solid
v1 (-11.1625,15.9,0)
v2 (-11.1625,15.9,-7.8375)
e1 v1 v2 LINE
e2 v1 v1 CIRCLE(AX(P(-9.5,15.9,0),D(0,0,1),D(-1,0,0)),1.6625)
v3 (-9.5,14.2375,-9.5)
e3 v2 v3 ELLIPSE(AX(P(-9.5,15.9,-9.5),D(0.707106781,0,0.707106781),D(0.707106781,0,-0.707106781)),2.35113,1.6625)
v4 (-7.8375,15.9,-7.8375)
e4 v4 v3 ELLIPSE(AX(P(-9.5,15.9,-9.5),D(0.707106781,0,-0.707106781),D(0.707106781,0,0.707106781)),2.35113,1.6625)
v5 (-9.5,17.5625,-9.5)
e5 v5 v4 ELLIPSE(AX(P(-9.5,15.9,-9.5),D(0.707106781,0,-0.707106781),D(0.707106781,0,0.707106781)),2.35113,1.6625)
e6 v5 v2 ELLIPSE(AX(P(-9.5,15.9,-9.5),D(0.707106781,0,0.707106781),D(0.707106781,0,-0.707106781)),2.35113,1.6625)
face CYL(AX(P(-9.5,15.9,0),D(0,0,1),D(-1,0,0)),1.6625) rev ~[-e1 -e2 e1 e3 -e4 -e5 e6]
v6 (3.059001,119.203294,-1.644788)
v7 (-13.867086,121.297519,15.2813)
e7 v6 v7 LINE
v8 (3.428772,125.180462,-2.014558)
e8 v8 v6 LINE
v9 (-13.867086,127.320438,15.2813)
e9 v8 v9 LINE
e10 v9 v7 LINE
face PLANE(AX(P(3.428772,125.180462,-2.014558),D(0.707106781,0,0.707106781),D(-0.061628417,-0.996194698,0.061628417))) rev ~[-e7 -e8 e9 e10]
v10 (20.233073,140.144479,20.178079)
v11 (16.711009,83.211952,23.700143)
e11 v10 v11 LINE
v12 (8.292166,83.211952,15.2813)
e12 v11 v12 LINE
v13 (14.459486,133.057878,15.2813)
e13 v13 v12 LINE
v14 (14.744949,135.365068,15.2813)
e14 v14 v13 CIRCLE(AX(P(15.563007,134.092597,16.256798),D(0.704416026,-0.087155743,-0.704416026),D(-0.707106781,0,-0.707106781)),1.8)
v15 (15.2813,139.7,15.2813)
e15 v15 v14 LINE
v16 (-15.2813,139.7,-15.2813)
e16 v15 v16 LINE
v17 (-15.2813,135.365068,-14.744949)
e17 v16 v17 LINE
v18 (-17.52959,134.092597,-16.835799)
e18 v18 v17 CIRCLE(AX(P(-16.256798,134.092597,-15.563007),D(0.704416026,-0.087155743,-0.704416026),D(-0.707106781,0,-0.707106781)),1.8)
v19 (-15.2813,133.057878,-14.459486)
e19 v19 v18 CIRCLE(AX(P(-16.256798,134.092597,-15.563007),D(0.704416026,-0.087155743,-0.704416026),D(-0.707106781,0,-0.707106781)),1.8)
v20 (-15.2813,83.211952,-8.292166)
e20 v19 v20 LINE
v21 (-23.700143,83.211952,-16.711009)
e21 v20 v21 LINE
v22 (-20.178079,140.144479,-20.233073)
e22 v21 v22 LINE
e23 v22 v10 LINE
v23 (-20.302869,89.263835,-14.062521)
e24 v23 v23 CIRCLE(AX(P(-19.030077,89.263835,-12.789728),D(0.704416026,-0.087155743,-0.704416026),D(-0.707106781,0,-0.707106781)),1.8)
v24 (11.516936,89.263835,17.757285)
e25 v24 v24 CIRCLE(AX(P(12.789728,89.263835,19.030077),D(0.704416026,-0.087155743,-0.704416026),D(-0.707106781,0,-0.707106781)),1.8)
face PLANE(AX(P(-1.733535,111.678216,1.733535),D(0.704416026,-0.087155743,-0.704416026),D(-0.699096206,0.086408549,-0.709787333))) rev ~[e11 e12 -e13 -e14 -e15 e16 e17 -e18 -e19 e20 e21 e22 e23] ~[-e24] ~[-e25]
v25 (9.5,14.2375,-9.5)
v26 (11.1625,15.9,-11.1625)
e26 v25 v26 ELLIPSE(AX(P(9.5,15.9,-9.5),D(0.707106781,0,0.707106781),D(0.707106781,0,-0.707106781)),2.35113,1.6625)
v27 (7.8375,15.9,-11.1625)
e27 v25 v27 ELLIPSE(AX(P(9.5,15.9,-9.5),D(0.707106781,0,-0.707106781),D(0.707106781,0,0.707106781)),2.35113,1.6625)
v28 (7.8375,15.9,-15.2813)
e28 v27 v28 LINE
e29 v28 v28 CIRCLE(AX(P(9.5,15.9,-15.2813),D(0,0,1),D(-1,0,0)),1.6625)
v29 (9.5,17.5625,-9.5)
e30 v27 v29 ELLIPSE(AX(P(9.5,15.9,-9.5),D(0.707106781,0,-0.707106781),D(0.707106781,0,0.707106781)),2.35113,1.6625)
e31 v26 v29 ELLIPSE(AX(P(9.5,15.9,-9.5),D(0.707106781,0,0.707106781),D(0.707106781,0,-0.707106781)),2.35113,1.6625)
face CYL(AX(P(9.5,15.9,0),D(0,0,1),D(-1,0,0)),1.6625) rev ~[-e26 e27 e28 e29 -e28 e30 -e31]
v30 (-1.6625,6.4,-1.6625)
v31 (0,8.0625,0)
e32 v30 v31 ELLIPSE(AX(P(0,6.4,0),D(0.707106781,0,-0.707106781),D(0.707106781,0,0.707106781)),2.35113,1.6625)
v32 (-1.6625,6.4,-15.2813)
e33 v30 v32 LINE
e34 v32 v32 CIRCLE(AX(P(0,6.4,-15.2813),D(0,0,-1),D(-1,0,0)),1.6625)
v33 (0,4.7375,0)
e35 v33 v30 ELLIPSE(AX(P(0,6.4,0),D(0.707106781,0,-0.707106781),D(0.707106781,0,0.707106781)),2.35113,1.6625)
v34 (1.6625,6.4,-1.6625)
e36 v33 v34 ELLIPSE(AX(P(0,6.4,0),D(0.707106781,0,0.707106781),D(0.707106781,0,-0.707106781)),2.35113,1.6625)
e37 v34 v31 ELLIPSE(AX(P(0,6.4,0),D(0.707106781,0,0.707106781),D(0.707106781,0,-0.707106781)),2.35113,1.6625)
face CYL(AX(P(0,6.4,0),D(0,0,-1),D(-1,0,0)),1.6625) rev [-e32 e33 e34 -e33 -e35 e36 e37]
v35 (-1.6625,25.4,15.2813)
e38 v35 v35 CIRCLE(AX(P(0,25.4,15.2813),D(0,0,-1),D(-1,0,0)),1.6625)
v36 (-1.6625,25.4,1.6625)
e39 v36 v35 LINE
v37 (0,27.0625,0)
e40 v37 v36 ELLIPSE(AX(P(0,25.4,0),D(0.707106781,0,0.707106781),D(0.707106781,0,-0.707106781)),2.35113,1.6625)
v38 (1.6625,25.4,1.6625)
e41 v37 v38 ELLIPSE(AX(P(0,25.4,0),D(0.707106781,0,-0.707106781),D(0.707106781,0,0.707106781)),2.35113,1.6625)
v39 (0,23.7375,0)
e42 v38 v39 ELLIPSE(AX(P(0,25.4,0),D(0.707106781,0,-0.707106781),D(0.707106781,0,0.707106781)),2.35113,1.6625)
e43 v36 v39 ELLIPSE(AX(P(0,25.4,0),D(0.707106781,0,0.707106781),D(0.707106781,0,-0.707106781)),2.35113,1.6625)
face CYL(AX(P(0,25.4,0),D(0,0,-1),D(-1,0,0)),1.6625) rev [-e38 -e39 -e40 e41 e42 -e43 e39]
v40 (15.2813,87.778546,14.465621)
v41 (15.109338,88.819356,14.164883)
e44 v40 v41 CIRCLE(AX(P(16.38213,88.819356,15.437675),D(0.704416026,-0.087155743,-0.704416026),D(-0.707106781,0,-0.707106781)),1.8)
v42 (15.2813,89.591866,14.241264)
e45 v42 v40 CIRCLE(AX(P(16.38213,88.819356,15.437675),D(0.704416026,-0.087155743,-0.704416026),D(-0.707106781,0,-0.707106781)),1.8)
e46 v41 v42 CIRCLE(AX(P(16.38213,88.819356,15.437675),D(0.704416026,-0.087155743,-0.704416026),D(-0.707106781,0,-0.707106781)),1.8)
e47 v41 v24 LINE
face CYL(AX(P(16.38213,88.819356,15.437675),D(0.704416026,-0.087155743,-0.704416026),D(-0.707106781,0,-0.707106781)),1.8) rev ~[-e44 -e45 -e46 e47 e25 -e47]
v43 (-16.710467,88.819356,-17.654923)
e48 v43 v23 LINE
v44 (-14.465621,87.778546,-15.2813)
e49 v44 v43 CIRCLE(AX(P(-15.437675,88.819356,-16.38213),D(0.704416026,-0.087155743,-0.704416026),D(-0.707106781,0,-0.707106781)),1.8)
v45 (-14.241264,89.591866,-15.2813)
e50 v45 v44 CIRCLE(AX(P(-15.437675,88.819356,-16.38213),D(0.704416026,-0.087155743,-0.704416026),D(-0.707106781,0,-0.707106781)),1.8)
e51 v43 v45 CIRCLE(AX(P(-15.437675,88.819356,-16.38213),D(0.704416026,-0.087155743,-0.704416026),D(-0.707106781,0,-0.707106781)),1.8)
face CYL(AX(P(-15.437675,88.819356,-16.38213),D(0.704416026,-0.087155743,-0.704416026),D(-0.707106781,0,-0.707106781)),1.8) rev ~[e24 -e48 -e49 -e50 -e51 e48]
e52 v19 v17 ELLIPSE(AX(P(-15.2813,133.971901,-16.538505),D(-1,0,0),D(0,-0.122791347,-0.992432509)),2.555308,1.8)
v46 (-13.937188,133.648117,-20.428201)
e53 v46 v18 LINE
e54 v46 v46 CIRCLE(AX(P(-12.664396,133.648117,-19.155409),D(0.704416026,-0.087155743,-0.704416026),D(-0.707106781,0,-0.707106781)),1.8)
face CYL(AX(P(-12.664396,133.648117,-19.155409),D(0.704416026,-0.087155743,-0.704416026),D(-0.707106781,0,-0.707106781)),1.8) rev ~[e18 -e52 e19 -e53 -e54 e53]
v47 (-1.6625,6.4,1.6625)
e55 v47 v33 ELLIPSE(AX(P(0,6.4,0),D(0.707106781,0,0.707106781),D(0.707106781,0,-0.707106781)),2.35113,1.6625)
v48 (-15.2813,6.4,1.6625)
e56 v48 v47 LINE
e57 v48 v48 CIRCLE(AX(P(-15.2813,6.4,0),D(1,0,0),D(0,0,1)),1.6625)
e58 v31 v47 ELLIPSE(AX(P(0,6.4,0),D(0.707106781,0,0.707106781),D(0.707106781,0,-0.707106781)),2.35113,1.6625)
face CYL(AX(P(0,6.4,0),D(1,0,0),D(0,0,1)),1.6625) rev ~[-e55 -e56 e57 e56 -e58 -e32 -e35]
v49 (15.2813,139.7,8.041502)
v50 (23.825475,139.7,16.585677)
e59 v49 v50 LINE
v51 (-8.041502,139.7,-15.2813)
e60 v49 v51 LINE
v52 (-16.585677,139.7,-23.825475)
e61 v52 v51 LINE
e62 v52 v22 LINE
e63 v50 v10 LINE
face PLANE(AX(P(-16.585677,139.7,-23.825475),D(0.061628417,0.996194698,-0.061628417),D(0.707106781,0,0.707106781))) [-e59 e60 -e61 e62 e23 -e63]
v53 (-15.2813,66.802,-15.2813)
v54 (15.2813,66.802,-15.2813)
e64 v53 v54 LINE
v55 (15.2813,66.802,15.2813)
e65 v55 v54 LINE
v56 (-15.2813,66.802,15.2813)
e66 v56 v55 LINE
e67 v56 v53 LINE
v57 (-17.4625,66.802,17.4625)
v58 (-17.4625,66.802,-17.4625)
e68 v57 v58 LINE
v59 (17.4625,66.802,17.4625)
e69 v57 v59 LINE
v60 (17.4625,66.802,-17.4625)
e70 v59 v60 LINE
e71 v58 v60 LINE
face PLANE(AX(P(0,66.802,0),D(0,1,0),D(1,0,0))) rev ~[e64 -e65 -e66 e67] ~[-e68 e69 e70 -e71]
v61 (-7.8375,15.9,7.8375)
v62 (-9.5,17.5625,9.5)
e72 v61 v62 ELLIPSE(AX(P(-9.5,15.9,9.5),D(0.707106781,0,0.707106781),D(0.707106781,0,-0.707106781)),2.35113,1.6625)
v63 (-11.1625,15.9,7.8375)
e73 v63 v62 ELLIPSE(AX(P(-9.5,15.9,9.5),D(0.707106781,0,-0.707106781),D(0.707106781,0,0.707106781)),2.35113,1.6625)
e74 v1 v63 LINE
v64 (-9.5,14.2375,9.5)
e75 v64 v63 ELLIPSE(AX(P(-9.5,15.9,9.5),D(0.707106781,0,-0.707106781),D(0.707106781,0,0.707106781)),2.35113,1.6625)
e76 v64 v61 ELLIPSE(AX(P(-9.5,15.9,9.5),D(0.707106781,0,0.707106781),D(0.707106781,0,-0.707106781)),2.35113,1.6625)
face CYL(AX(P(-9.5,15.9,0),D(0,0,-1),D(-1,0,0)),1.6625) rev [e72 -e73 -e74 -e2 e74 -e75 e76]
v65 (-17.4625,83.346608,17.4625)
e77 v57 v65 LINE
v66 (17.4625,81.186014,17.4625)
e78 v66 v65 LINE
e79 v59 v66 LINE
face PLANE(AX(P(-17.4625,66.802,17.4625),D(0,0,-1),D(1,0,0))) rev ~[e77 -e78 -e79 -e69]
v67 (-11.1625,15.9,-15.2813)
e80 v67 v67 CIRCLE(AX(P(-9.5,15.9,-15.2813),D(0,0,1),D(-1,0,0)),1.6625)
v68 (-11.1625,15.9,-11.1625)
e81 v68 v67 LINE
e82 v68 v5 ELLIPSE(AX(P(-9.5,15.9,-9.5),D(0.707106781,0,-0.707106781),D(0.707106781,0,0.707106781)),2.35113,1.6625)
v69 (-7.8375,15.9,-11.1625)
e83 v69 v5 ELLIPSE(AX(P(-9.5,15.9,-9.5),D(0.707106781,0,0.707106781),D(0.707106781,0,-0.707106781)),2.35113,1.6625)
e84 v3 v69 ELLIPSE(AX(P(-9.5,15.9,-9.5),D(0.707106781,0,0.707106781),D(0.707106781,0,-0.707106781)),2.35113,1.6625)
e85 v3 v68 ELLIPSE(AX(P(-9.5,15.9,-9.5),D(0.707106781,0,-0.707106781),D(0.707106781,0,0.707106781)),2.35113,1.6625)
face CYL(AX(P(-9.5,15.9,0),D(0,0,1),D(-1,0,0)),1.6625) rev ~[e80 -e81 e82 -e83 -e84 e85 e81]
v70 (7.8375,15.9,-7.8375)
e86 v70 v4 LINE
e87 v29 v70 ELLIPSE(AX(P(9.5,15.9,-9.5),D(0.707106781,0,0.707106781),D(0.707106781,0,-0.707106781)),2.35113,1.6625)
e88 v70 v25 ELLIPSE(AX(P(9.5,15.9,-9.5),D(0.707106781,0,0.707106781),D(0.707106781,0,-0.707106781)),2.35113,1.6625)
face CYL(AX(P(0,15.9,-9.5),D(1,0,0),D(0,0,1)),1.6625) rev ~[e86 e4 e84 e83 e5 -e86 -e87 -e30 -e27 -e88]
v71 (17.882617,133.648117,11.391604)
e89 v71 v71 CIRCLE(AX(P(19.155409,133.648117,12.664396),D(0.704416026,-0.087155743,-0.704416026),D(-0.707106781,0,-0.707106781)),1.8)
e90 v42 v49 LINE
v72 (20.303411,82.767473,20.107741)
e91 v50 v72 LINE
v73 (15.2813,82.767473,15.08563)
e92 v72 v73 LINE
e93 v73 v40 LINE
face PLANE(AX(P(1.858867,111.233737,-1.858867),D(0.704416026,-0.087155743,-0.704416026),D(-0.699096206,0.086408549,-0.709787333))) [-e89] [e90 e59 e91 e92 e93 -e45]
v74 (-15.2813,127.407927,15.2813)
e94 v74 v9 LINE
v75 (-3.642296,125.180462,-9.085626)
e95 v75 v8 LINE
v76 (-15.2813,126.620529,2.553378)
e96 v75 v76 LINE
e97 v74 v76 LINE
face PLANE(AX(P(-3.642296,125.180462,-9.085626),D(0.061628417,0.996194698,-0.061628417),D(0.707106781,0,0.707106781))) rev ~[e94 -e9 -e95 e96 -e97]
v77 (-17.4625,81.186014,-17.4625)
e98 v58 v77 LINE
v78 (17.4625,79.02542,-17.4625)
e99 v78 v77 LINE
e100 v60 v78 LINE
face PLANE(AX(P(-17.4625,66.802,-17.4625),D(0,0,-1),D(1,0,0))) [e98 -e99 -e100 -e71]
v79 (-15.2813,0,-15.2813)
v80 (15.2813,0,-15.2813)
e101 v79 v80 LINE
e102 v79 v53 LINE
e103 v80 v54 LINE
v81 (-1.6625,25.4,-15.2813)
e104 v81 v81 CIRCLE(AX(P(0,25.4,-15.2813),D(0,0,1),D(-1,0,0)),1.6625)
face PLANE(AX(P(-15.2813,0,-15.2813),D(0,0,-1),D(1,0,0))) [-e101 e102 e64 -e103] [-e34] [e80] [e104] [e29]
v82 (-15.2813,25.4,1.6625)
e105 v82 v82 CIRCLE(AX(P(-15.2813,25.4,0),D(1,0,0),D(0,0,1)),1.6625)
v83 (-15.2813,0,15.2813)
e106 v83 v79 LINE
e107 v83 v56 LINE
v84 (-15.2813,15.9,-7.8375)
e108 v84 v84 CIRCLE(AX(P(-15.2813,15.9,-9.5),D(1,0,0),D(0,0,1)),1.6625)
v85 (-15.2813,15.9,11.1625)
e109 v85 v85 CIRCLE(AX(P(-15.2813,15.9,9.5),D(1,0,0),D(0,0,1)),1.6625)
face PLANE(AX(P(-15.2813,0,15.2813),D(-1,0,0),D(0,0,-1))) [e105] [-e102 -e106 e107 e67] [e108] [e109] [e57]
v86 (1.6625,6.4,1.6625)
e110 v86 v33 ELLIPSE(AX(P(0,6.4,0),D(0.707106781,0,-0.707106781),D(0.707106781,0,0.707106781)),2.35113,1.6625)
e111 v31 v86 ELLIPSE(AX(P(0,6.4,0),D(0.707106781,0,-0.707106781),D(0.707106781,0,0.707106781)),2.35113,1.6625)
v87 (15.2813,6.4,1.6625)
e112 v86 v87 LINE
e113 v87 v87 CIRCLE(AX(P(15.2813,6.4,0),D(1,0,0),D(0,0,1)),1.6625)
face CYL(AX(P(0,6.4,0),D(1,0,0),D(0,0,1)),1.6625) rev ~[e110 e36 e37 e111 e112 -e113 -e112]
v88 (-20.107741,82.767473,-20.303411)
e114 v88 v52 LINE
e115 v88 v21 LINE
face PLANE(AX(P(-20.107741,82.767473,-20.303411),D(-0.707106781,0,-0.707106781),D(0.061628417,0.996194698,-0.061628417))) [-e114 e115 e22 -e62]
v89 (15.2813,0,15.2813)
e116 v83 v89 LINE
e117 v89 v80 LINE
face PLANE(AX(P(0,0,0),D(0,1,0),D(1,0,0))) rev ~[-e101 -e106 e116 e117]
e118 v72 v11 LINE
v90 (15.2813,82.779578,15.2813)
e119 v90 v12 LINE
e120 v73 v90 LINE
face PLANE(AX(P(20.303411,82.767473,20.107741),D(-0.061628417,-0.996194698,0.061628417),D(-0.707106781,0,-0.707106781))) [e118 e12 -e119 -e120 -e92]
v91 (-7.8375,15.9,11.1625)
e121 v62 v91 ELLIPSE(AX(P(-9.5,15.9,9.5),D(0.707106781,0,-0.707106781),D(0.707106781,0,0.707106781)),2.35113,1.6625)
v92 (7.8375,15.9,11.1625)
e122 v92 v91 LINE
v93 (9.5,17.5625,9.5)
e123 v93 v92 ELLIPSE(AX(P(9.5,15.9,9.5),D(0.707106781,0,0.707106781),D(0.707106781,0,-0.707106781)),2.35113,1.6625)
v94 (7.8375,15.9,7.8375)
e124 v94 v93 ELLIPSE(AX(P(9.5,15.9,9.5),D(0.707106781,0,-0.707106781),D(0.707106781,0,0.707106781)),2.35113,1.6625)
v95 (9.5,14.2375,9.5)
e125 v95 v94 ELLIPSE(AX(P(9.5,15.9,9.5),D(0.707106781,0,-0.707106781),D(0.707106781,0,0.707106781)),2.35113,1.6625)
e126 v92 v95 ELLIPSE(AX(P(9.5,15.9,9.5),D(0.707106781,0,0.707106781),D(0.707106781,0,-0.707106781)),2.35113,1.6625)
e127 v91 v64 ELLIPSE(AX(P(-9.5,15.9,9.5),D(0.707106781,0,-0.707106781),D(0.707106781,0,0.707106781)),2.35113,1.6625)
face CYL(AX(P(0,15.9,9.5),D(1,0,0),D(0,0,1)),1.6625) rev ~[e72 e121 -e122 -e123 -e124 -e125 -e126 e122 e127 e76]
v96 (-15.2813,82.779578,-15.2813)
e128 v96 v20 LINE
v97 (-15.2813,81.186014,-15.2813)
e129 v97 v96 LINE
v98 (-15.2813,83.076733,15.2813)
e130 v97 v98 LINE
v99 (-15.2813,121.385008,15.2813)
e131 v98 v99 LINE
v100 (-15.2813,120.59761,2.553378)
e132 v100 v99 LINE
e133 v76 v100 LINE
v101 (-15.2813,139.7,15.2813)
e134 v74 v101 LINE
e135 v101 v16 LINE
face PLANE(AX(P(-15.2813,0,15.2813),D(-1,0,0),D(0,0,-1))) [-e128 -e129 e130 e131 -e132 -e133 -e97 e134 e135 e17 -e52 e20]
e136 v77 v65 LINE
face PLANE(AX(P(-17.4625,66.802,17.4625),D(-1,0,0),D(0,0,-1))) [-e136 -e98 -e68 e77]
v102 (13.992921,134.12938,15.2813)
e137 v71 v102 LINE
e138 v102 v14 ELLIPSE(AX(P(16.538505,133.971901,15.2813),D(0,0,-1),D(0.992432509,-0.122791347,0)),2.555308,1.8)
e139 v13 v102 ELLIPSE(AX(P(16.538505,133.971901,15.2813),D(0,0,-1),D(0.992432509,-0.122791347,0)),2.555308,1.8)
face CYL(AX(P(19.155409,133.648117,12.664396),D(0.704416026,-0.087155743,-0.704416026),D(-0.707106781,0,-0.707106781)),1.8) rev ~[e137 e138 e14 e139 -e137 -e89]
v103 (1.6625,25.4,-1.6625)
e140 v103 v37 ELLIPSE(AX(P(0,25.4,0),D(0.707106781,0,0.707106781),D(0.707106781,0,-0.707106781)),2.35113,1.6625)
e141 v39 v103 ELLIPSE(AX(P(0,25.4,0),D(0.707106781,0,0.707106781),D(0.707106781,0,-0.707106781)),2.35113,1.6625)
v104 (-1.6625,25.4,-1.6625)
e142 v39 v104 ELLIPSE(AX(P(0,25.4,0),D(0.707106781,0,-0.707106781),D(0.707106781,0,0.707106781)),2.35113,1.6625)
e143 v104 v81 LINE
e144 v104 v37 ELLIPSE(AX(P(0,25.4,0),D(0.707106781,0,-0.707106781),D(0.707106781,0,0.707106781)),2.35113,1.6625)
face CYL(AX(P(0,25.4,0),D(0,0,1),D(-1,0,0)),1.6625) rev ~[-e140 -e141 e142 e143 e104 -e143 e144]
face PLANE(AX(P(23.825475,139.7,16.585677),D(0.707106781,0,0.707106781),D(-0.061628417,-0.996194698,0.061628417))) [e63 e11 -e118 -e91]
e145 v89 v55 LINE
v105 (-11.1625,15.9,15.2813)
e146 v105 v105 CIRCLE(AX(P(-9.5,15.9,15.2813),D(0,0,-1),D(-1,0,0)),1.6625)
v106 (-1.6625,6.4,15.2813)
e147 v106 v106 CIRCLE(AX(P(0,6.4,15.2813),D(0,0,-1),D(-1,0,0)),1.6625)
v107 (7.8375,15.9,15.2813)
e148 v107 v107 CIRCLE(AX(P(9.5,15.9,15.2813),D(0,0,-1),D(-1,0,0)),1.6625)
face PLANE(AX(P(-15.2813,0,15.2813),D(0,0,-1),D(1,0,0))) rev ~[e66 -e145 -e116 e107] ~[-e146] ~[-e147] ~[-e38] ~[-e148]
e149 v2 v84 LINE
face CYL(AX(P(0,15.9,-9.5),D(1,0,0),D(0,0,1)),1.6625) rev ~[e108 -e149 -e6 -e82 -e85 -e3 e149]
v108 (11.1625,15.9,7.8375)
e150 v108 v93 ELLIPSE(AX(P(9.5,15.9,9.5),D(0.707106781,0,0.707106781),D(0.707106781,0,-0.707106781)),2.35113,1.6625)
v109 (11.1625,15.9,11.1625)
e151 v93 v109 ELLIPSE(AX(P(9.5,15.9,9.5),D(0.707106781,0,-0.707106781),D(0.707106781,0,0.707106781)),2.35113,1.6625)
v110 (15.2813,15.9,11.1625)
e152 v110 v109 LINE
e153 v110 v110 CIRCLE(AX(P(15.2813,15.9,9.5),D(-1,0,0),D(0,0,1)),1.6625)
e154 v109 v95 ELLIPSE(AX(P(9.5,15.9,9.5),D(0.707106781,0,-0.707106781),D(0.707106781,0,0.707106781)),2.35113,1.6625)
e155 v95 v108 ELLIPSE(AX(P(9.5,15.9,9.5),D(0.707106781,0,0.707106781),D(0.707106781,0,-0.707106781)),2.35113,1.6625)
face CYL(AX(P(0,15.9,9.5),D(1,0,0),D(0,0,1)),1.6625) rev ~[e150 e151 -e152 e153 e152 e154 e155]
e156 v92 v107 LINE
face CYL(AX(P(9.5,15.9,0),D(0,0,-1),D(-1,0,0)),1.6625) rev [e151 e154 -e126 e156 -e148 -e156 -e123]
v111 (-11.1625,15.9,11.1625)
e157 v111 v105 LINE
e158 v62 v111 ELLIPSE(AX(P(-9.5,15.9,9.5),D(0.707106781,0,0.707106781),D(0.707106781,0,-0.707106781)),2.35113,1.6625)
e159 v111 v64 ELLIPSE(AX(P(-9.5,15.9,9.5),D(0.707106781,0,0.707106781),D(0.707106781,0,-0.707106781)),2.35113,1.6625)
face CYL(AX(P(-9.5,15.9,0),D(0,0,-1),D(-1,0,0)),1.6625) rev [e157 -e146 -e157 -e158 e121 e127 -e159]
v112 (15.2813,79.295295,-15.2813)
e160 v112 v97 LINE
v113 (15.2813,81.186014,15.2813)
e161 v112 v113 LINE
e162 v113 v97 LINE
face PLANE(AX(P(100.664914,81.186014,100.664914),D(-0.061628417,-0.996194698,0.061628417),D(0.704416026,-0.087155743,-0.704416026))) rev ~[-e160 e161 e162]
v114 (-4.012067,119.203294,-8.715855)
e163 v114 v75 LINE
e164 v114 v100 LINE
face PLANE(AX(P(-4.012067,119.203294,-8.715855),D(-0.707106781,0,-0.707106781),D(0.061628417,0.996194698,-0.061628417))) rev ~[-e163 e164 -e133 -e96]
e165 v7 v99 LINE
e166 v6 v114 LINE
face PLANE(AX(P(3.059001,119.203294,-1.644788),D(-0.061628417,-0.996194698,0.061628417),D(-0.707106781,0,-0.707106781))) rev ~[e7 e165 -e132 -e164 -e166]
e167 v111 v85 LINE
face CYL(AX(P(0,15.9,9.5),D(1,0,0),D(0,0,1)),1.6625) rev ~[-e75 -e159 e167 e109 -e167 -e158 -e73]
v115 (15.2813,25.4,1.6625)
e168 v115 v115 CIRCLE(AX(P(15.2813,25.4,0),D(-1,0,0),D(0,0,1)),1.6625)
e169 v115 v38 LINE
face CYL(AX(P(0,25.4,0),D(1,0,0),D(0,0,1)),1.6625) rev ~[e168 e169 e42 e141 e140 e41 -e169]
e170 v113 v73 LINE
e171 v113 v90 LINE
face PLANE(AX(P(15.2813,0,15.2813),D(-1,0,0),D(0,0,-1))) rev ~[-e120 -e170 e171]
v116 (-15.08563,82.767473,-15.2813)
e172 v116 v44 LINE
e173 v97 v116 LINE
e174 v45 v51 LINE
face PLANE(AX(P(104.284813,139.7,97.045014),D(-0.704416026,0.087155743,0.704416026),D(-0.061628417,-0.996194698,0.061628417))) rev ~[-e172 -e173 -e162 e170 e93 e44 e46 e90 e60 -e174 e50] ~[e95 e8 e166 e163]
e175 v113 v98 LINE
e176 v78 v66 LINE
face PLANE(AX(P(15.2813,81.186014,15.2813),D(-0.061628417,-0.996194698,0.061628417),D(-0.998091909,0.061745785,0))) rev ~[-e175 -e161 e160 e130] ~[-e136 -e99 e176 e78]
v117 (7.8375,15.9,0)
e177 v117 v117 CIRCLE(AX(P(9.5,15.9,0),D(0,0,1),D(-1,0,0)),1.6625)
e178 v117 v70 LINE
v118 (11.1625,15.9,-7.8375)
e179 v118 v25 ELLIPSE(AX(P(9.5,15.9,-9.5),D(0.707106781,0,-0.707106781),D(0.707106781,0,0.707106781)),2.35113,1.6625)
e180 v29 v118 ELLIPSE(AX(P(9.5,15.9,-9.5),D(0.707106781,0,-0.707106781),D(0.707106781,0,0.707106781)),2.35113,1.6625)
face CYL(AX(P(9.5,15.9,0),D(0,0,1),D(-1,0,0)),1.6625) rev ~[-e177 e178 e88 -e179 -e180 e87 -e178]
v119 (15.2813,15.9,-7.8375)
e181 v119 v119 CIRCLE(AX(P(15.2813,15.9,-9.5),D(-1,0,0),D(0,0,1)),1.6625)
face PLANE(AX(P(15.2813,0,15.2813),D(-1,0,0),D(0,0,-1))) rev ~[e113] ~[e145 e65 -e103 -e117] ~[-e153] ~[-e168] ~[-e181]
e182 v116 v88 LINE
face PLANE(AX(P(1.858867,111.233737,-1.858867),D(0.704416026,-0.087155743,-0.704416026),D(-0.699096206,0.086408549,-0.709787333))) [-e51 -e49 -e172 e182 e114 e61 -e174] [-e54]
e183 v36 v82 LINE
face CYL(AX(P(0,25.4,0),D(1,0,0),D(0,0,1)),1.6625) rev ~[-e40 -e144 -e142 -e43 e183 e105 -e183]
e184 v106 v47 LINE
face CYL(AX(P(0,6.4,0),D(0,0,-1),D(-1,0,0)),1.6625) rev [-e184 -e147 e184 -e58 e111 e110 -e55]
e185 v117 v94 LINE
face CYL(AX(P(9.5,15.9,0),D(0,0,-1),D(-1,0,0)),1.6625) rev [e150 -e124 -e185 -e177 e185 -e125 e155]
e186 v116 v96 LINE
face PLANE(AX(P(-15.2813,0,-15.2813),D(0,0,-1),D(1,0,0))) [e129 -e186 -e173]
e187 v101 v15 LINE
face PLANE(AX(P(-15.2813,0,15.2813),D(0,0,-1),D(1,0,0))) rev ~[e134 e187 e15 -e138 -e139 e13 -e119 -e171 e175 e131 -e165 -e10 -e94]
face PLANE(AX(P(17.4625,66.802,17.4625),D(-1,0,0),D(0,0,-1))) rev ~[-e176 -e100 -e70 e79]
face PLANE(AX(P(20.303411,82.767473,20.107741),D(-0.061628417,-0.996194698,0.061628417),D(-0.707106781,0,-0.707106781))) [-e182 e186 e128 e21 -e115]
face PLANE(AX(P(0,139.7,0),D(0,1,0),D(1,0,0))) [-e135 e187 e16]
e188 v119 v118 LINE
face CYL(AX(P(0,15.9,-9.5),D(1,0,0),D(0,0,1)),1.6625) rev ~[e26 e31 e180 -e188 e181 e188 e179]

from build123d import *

# Parameters (mm, degrees)
SKETCH1_W               = 30.562599784
SKETCH1_H               = 30.562599784
BOSS_EXTRUDE1_DEPTH     = 139.7
CUT_EXTRUDE1_DEPTH      = 142.361685943
CUT_EXTRUDE1_DEPTH_BACK = 142.361685943
BOSS_EXTRUDE2_DEPTH     = 5.09983
SKETCH5_R               = 1.8
CUT_EXTRUDE2_DEPTH      = 146.354775845
SKETCH6_R               = 1.662500104
CUT_EXTRUDE3_DEPTH      = 145.138064655
BOSS_EXTRUDE3_REACH     = 212.94
BOSS_EXTRUDE3_START     = 66.802
SKETCH8_W               = 34.925
SKETCH8_H               = 34.925
SKETCH8_W_2             = 30.562599784
SKETCH8_H_2             = 30.562599784


with BuildPart() as part:
    # Sketch1 → Boss-Extrude1 (new body)
    with BuildSketch(Plane(origin=(0, 0, 0), x_dir=(1, 0, 0), z_dir=(0, 1, 0))):
        Rectangle(SKETCH1_W, SKETCH1_H)
    extrude(amount=BOSS_EXTRUDE1_DEPTH)

    # Sketch2 → Cut-Extrude1 (cut, two sides: drawn at the far end of the back side and taken through both)
    with BuildSketch(Plane(origin=(0, 0, 0), x_dir=(0, -1, 0), z_dir=(-0.7071067811865438, 0, -0.7071067811865512)).offset(-CUT_EXTRUDE1_DEPTH_BACK)):
        Polygon((-139.7, -5.11931044), (-81.186013921, 0), (-79.295294527, -21.611021558), (-139.7, -21.611021558), align=None)
    extrude(amount=CUT_EXTRUDE1_DEPTH + CUT_EXTRUDE1_DEPTH_BACK, mode=Mode.SUBTRACT)

    # Sketch4 → Boss-Extrude2 (add)
    with BuildSketch(Plane(origin=(-4.984326181, 0.616698988, 4.984326181), x_dir=(-0.6990962056889038, 0.08640854919208918, -0.7097873328102555), z_dir=(0.7044160264027624, -0.08715574274765817, -0.704416026402755))):
        Polygon((40.57727892, 136.609827857), (-16.357328672, 141.566939751), (-21.314440566, 84.632332159), (35.620167026, 79.675220265), align=None)
    extrude(amount=-BOSS_EXTRUDE2_DEPTH)

    # Sketch5 → Cut-Extrude2 (cut, through all)
    with BuildSketch(Plane(origin=(-4.984326181, 0.616698988, 4.984326181), x_dir=(-0.6990962056889037, 0.0864085491920891, -0.7097873328102555), z_dir=(0.7044160264027625, -0.08715574274765821, -0.7044160264027549))):
        with Locations(Location((33.998237872, 131.084660992, 0), (0, 0, 355.023990467))):
            Circle(SKETCH5_R)
        with Locations(Location((-10.832161807, 134.987898703, 0), (0, 0, 355.023990467))):
            Circle(SKETCH5_R)
        with Locations(Location((-14.735399518, 90.157499024, 0), (0, 0, 355.023990467))):
            Circle(SKETCH5_R)
        with Locations(Location((30.095000161, 86.254261313, 0), (0, 0, 355.023990467))):
            Circle(SKETCH5_R)
        Polygon((19.811839734, 123.787667921), (9.849528694, 124.65505408), (9.329097, 118.677667456), (19.291408039, 117.810281298), align=None)
    extrude(amount=-CUT_EXTRUDE2_DEPTH, mode=Mode.SUBTRACT)

    # Sketch6 → Cut-Extrude3 (cut, symmetric)
    with BuildSketch(Plane(origin=(0, 0, 0), x_dir=(0, 0, -1), z_dir=(1, 0, 0))):
        with Locations(Location((0, 25.4, 0), (0, 0, 180))):
            Circle(SKETCH6_R)
        with Locations(Location((-9.5, 15.9, 0), (0, 0, 180))):
            Circle(SKETCH6_R)
        with Locations(Location((9.5, 15.9, 0), (0, 0, 180))):
            Circle(SKETCH6_R)
        with Locations(Location((0, 6.4, 0), (0, 0, 180))):
            Circle(SKETCH6_R)
    cut_extrude3 = extrude(amount=CUT_EXTRUDE3_DEPTH, both=True, mode=Mode.SUBTRACT)

    # Mirror1: Cut-Extrude3 across plane
    add(cut_extrude3.mirror(Plane(origin=(0, 0, 0), x_dir=(-0.7071067811865512, 0, 0.7071067811865439), z_dir=(-0.7071067811865438, 0, -0.7071067811865512))), mode=Mode.SUBTRACT)

    # Boss-Extrude3: up to this plane
    boss_extrude3_end = Plane(origin=(15.281299892, 81.186013921, 15.281299892), z_dir=(-0.06162841671621989, -0.9961946980917455, 0.061628416716219235))
    # Sketch8 → Boss-Extrude3 (add, up to the surface)
    with BuildSketch(Plane(origin=(0, 0, 0), x_dir=(1, 0, 0), z_dir=(0, 1, 0)).offset(BOSS_EXTRUDE3_START), mode=Mode.PRIVATE) as boss_extrude3_sk1:
        Rectangle(SKETCH8_W, SKETCH8_H)
        Rectangle(SKETCH8_W_2, SKETCH8_H_2, mode=Mode.SUBTRACT)
    boss_extrude3_tool1 = split(extrude(boss_extrude3_sk1.sketch, amount=BOSS_EXTRUDE3_REACH, mode=Mode.PRIVATE), bisect_by=boss_extrude3_end, keep=Keep.BOTH, mode=Mode.PRIVATE)
    add(boss_extrude3_tool1.solids().sort_by_distance((0, 66.802, 16.968586))[0])


solid = part.part
